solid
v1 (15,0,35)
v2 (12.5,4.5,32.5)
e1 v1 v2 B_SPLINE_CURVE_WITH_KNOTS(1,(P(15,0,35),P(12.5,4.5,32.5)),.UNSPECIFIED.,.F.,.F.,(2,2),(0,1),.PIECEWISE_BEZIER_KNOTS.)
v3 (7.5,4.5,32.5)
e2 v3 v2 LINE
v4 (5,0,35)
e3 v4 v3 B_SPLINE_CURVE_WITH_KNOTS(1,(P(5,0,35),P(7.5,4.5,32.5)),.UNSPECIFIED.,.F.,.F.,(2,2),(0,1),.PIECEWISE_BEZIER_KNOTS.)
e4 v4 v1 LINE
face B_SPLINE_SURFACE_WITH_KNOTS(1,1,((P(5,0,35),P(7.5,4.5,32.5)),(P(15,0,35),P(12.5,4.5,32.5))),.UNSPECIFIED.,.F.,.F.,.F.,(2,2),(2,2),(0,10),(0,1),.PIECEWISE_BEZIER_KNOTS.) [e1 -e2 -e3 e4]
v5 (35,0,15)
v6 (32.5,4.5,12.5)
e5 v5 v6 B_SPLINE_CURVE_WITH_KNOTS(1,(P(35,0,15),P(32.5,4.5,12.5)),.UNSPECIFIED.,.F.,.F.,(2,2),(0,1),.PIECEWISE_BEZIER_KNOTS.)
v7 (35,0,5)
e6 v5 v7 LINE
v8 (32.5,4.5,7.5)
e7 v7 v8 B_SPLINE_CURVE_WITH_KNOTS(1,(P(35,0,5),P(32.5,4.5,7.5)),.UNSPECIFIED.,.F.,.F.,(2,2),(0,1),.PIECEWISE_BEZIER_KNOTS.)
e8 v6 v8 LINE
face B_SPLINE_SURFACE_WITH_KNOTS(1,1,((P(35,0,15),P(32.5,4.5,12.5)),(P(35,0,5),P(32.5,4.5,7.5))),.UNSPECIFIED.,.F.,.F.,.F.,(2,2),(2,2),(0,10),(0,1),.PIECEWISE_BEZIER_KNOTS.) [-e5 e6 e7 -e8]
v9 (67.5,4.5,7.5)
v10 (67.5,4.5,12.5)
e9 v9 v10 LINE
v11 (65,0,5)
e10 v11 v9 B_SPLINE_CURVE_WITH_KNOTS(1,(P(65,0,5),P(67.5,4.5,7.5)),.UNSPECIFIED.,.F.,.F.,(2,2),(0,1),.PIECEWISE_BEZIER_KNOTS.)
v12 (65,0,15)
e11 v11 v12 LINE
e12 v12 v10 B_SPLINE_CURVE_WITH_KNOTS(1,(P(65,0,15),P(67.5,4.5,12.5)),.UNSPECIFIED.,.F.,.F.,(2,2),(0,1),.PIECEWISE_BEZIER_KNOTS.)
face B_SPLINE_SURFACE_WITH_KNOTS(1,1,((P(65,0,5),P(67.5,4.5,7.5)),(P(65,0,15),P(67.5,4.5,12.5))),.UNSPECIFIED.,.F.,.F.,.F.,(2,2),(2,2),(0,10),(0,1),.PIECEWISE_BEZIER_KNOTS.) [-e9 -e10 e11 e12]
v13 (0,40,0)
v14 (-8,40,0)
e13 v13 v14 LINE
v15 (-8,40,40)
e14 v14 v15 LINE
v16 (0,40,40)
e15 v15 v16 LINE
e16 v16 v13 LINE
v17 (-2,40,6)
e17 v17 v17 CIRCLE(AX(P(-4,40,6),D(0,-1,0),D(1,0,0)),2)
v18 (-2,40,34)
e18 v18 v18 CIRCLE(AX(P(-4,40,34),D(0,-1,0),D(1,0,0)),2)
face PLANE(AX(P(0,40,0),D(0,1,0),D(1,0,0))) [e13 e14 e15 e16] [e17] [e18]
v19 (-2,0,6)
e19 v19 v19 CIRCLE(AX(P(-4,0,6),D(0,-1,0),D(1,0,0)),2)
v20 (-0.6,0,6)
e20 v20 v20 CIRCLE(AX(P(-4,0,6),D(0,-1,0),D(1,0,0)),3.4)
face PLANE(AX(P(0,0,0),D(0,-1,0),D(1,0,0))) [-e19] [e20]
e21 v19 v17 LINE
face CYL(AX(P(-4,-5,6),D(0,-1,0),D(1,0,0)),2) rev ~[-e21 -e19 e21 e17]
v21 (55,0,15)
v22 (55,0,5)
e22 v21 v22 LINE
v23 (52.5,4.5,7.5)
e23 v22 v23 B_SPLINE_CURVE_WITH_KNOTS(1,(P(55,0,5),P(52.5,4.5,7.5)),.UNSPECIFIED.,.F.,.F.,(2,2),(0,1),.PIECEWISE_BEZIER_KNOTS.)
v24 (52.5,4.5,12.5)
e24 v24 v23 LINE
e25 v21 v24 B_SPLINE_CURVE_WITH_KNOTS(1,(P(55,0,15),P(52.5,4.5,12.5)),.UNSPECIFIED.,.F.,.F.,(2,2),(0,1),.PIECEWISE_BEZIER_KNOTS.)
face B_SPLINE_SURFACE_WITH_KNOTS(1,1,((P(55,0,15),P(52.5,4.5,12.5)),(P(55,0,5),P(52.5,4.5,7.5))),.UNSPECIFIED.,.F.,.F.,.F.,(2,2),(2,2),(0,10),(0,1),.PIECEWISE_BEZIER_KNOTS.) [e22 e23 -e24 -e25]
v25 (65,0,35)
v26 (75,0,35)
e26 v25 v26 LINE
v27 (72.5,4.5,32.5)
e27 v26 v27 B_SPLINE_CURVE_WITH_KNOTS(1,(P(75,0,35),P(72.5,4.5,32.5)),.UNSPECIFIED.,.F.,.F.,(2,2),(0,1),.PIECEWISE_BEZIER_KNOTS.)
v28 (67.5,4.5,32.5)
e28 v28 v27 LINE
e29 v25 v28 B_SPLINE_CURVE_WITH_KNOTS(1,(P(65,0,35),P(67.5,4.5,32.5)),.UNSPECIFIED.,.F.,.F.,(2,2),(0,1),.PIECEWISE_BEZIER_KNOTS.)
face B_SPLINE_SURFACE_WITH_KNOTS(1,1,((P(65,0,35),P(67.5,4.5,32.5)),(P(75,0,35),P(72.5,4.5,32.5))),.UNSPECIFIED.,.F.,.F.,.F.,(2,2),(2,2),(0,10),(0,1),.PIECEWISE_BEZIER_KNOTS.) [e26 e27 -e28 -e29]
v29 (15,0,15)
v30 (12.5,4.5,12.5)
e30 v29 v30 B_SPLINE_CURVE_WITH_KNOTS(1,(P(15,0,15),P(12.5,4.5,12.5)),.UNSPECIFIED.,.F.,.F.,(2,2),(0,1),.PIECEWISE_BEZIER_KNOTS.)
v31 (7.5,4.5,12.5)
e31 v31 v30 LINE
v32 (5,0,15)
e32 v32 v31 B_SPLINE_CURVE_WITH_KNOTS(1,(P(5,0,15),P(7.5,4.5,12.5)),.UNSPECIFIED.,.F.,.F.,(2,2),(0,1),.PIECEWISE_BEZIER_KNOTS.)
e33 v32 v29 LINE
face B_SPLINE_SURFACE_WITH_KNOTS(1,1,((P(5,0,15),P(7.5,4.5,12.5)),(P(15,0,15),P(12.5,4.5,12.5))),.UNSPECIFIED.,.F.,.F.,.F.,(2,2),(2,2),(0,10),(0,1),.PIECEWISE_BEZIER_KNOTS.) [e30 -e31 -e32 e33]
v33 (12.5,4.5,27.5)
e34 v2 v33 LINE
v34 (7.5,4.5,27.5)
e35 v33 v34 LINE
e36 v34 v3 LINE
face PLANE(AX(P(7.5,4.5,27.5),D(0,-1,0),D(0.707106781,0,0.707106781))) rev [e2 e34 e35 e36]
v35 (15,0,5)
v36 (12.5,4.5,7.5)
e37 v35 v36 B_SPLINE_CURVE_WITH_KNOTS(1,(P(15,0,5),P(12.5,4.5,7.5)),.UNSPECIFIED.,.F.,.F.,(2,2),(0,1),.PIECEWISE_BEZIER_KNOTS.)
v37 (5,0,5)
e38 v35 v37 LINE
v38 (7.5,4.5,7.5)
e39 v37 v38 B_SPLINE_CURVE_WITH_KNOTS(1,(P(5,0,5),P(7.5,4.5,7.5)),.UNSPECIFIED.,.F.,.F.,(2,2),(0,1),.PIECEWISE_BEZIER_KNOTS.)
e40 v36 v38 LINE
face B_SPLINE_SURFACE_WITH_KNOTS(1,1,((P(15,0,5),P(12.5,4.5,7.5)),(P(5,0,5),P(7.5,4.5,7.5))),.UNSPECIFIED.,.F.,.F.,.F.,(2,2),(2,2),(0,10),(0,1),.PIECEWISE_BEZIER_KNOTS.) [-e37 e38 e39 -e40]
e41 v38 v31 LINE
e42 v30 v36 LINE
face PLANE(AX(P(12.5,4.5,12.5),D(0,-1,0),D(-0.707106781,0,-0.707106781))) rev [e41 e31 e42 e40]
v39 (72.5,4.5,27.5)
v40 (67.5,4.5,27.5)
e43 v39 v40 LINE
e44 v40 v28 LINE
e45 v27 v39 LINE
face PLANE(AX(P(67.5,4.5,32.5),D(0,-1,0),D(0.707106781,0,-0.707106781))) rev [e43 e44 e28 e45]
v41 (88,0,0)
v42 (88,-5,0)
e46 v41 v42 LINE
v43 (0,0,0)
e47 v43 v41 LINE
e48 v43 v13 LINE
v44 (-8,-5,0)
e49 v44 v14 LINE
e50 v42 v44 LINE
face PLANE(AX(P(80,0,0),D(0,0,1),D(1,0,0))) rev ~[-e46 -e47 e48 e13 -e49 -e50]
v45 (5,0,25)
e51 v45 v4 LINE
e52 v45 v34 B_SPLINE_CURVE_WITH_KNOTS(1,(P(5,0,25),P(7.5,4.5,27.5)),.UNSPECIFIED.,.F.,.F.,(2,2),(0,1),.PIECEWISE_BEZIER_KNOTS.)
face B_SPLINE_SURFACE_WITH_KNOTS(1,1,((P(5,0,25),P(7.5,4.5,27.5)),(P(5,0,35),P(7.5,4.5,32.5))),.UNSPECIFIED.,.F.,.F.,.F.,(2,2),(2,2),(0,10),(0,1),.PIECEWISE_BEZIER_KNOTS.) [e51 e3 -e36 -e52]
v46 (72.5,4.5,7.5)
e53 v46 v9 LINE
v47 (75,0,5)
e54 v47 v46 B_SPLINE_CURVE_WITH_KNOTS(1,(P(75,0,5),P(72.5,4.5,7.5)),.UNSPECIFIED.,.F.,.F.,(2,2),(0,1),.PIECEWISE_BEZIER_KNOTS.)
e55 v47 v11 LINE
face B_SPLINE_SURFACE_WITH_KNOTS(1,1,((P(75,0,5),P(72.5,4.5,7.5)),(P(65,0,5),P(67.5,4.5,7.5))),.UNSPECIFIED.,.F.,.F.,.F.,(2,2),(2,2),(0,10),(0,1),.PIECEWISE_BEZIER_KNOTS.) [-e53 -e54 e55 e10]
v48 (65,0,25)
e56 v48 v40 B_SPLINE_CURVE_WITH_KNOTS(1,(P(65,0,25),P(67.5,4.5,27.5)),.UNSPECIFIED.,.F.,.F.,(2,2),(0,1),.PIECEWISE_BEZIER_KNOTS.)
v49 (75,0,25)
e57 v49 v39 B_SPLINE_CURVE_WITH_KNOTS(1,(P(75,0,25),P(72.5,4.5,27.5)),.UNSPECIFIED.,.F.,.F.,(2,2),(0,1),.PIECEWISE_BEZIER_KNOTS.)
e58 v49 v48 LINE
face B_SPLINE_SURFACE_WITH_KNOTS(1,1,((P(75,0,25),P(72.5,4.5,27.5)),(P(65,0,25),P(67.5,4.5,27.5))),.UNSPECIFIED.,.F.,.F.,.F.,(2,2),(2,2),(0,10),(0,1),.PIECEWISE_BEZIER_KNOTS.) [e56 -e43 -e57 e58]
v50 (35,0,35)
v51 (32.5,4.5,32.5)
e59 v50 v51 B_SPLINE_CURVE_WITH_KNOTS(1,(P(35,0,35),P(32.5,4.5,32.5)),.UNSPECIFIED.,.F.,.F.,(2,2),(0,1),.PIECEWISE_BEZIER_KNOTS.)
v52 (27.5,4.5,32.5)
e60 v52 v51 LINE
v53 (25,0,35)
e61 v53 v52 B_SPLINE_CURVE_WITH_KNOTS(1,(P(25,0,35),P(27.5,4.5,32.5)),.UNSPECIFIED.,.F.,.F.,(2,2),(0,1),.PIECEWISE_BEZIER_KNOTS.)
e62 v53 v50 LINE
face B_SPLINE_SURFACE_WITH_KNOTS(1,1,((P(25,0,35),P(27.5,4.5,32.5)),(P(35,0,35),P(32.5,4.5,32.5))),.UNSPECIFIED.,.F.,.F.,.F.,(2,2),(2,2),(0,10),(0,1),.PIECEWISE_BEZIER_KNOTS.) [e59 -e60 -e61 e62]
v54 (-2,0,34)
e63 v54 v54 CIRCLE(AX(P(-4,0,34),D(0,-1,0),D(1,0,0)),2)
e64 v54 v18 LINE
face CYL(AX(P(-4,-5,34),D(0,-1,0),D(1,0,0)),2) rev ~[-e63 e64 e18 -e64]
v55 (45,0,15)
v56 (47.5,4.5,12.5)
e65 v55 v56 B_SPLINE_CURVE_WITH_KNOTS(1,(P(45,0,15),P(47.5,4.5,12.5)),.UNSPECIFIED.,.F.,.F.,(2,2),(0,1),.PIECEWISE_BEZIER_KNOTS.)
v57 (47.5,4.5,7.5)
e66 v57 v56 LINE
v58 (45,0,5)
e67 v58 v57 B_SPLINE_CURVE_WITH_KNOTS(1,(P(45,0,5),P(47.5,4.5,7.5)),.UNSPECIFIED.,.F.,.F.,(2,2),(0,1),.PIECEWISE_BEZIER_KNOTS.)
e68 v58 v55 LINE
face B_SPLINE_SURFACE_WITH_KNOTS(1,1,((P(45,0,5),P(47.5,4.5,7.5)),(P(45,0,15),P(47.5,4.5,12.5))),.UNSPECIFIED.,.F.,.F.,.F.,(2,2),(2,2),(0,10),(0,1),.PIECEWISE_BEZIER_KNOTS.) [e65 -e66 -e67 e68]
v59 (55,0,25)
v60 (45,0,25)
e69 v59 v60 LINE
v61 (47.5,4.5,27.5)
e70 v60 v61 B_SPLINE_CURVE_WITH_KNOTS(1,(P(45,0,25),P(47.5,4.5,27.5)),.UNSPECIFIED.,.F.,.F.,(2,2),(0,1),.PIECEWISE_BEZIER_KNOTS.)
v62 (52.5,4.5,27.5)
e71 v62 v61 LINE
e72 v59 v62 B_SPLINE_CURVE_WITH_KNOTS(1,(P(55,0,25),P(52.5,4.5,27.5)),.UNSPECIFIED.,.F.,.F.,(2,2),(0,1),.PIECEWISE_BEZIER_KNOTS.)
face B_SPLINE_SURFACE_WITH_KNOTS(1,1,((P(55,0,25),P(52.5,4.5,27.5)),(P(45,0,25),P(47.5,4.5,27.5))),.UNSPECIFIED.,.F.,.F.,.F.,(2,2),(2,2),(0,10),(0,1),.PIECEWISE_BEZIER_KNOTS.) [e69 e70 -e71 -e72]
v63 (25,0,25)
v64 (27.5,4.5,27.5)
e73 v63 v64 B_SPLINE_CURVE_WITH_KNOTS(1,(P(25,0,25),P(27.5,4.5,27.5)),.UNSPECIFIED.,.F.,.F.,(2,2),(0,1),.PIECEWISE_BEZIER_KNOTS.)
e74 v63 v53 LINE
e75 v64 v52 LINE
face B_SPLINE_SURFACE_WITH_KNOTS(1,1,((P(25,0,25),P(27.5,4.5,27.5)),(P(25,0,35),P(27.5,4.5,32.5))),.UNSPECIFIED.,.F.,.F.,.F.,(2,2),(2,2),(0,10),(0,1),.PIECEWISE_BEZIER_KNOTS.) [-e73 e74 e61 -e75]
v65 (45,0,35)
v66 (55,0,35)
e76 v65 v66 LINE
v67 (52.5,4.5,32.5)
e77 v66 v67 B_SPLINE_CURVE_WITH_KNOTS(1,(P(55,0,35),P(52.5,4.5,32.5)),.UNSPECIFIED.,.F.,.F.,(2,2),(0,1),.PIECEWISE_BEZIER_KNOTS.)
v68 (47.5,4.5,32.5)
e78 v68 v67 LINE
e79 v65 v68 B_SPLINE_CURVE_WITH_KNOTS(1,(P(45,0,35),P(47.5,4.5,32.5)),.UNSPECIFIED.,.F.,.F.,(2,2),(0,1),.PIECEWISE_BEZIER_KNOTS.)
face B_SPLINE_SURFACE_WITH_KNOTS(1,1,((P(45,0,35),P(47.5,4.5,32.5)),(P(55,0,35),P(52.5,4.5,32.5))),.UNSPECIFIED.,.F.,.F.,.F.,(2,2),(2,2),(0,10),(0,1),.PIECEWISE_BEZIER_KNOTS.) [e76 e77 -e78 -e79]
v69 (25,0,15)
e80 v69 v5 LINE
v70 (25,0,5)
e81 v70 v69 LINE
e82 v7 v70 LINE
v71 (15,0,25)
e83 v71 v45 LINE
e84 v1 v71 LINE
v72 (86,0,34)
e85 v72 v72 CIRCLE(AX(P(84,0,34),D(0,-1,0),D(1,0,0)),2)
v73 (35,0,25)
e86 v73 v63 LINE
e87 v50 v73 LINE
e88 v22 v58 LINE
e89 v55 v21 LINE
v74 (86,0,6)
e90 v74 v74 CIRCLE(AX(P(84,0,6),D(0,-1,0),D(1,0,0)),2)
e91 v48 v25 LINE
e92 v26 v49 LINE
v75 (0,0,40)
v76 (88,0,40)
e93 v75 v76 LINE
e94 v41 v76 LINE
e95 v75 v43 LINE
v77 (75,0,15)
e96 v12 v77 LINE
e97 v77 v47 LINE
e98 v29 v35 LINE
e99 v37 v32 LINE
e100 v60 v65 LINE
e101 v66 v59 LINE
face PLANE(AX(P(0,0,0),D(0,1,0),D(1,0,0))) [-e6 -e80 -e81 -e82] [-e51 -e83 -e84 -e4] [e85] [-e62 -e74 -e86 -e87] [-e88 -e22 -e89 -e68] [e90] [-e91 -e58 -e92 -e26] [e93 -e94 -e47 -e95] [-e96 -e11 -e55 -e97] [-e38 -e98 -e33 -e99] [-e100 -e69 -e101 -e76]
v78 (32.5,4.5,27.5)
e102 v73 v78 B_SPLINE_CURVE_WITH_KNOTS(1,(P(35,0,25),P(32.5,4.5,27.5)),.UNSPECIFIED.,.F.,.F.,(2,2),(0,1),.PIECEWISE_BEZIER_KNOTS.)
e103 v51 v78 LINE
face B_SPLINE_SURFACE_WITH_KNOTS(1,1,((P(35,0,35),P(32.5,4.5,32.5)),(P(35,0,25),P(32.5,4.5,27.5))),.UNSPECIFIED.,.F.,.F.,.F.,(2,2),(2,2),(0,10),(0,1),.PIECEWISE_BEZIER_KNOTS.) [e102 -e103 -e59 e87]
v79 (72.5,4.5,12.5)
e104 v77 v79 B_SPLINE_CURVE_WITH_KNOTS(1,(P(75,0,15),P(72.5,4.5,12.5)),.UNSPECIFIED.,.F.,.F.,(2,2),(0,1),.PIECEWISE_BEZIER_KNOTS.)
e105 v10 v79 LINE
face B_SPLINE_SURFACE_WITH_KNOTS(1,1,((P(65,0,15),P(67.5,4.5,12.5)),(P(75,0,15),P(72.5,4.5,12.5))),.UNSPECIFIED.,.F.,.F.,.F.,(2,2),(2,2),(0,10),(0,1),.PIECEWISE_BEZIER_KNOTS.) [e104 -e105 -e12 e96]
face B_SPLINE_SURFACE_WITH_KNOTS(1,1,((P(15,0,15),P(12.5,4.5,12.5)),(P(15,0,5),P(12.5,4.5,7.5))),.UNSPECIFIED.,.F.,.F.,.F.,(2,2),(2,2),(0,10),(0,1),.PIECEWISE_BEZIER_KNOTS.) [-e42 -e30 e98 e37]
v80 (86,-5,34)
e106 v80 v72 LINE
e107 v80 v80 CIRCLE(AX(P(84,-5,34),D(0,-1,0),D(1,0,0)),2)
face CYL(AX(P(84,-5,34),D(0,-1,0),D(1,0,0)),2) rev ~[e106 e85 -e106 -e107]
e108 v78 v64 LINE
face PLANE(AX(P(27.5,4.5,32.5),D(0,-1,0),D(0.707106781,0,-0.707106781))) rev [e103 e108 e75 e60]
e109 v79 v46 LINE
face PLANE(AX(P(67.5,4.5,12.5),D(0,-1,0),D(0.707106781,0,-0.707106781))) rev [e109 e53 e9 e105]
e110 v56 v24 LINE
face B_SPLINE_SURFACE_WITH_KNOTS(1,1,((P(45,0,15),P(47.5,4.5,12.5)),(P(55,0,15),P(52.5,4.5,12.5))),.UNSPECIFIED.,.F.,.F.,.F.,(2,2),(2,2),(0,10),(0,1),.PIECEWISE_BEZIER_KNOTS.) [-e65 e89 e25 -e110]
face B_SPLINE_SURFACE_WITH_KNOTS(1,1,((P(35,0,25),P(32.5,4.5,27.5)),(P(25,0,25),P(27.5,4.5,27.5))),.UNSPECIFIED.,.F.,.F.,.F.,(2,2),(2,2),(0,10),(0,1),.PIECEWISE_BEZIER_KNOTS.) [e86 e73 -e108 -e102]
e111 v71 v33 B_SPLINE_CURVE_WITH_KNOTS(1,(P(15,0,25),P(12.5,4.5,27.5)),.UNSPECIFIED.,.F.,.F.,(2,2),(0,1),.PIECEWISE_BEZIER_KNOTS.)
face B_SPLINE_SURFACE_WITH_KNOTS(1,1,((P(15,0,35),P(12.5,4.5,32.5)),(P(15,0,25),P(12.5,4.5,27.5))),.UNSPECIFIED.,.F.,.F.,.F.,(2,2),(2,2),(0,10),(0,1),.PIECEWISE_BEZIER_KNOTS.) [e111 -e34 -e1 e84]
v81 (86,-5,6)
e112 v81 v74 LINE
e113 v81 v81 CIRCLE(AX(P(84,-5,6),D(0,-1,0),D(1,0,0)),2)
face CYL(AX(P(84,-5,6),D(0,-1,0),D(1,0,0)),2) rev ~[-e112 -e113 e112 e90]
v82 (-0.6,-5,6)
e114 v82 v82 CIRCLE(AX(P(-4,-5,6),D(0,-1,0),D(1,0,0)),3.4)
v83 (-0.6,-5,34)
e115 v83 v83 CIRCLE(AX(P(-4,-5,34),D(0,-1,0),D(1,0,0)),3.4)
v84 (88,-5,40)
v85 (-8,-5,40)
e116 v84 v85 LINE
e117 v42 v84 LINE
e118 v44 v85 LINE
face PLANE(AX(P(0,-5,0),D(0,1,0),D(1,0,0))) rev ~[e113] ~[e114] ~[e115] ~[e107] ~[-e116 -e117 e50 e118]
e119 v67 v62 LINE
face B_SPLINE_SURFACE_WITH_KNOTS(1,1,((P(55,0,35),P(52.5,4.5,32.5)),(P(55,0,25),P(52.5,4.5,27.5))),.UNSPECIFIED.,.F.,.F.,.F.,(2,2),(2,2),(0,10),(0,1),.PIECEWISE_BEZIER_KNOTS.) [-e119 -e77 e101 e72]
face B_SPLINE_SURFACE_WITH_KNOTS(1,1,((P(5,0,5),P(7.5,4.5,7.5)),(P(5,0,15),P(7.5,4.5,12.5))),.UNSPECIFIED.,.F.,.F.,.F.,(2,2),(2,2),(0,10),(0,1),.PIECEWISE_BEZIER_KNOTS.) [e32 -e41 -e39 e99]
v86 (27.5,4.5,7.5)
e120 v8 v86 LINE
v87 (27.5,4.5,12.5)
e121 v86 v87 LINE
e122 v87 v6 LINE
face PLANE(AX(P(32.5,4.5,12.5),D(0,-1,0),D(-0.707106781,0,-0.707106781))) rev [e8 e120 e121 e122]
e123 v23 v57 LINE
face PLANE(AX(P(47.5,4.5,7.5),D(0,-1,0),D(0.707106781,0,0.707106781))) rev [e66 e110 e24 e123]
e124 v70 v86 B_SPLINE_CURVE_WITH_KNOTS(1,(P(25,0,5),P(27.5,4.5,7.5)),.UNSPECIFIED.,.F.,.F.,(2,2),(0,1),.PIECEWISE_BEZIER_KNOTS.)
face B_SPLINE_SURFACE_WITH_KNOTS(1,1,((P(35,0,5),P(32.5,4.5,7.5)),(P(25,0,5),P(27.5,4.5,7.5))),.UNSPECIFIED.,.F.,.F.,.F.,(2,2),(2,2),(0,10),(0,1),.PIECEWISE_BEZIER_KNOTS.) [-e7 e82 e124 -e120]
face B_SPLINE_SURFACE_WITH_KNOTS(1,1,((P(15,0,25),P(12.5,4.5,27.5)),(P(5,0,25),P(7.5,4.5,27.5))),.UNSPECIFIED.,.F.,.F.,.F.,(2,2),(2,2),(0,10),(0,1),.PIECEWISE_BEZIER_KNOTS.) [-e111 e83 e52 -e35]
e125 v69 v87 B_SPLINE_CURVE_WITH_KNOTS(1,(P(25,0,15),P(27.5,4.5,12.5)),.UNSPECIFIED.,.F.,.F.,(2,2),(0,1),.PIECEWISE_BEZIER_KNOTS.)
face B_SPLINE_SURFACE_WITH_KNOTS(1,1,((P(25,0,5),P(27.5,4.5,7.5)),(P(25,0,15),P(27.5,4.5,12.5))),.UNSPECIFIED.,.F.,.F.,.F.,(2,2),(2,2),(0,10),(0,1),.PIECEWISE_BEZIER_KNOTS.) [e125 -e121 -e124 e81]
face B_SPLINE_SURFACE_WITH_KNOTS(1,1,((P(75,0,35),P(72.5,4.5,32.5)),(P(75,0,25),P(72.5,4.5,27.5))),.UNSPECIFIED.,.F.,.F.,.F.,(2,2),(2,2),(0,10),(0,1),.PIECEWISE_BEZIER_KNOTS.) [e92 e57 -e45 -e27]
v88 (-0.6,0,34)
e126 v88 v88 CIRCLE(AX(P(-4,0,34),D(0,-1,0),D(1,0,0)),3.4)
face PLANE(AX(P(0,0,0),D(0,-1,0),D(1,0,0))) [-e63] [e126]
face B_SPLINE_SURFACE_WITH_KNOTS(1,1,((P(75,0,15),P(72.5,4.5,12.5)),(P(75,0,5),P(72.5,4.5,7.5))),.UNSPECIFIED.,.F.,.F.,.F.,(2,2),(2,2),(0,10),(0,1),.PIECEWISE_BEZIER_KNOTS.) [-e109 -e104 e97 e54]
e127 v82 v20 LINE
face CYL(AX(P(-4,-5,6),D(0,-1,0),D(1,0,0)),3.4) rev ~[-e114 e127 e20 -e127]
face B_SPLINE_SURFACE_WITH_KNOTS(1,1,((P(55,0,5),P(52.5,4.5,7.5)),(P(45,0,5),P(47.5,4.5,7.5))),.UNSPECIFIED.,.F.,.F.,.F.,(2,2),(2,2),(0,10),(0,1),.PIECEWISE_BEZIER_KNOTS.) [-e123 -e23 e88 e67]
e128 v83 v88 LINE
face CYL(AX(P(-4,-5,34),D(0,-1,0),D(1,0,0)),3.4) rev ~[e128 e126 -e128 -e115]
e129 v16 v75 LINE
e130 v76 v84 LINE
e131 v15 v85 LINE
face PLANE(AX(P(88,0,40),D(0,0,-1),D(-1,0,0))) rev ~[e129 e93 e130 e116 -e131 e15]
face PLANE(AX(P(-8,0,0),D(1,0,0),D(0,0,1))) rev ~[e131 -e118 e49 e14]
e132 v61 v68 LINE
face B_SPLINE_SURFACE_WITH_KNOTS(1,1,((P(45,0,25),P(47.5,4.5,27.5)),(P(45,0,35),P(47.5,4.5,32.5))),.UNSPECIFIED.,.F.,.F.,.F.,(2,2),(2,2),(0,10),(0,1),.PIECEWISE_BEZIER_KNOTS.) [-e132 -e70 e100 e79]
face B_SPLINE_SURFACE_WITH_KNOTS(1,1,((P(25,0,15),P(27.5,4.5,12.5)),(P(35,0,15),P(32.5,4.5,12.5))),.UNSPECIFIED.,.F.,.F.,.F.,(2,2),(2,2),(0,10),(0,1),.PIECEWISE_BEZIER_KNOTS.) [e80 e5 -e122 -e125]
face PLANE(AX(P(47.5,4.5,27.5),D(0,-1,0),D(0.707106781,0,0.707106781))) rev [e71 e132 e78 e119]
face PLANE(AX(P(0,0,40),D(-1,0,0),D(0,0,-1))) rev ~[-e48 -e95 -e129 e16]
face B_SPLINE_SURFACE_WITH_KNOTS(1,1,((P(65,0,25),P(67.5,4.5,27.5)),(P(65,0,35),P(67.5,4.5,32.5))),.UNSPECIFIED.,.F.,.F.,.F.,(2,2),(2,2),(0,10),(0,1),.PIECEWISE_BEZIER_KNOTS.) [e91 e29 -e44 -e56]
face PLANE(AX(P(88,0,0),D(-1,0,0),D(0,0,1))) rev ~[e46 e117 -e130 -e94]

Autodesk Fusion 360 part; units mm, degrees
sketch "baseplate" plane through (0, 0, 0) normal (0, 1, 0) x (1, 0, 0)
  line L0 (0, 0) -> (80, 0)
  line L1 (80, 0) -> (80, -40)
  line L2 (80, -40) -> (0, -40)
  line L3 (0, -40) -> (0, 0)
  dimension "d1" = 80
  dimension "d2" = 40
sketch "pryamid_base" plane through (0, 0, 0) normal (0, 1, 0) x (1, 0, 0)
  line L0 (5, -35) -> (15, -35)
  line L1 (15, -35) -> (15, -25)
  line L2 (15, -25) -> (5, -25)
  line L3 (5, -25) -> (5, -35)
  line L4 (35, -35) -> (35, -25)
  line L5 (35, -25) -> (25, -25)
  line L6 (25, -35) -> (35, -35)
  line L7 (25, -25) -> (25, -35)
  line L8 (75, -35) -> (75, -25)
  line L9 (45, -35) -> (55, -35)
  line L10 (55, -25) -> (45, -25)
  line L11 (65, -25) -> (65, -35)
  line L12 (65, -35) -> (75, -35)
  line L13 (55, -35) -> (55, -25)
  line L14 (45, -25) -> (45, -35)
  line L15 (75, -25) -> (65, -25)
  line L16 (35, -5) -> (25, -5)
  line L17 (35, -15) -> (35, -5)
  line L18 (15, -5) -> (5, -5)
  line L19 (25, -5) -> (25, -15)
  line L20 (45, -15) -> (55, -15)
  line L21 (55, -15) -> (55, -5)
  line L22 (5, -5) -> (5, -15)
  line L23 (45, -5) -> (45, -15)
  line L24 (75, -15) -> (75, -5)
  line L25 (65, -5) -> (65, -15)
  line L26 (75, -5) -> (65, -5)
  line L27 (55, -5) -> (45, -5)
  line L28 (65, -15) -> (75, -15)
  line L29 (5, -15) -> (15, -15)
  line L30 (15, -15) -> (15, -5)
  line L31 (25, -15) -> (35, -15)
  dimension "d3" = 10
  dimension "d4" = 10
  dimension "d5" = 10
  dimension "d6" = 10
  dimension "d7" = 10
  dimension "d8" = 10
  dimension "d9" = 10
  dimension "d10" = 10
  dimension "d11" = 10
  dimension "d12" = 10
  dimension "d13" = 10
  dimension "d14" = 10
  dimension "d15" = 10
  dimension "d16" = 10
  dimension "d17" = 10
  dimension "d18" = 10
ref_plane "WorkPlane1" through (0, 4.5, 0) normal (0, 1, 0) x (0, 0, 1)
sketch "pryamid_offsetplane" plane through (0, 4.5, 0) normal (0, 1, 0) x (1, 0, 0)
  line L0 (7.5, -32.5) -> (12.5, -32.5)
  line L1 (12.5, -32.5) -> (12.5, -27.5)
  line L2 (12.5, -27.5) -> (7.5, -27.5)
  line L3 (7.5, -27.5) -> (7.5, -32.5)
  line L4 (27.5, -27.5) -> (27.5, -32.5)
  line L5 (32.5, -32.5) -> (32.5, -27.5)
  line L6 (27.5, -32.5) -> (32.5, -32.5)
  line L7 (32.5, -27.5) -> (27.5, -27.5)
  line L8 (7.5, -27.5) -> (7.5, -32.5)
  line L9 (12.5, -32.5) -> (12.5, -27.5)
  line L10 (7.5, -32.5) -> (12.5, -32.5)
  line L11 (12.5, -27.5) -> (7.5, -27.5)
  line L12 (47.5, -27.5) -> (47.5, -32.5)
  line L13 (52.5, -32.5) -> (52.5, -27.5)
  line L14 (47.5, -32.5) -> (52.5, -32.5)
  line L15 (52.5, -27.5) -> (47.5, -27.5)
  line L16 (67.5, -27.5) -> (67.5, -32.5)
  line L17 (72.5, -32.5) -> (72.5, -27.5)
  line L18 (67.5, -32.5) -> (72.5, -32.5)
  line L19 (72.5, -27.5) -> (67.5, -27.5)
  line L20 (72.5, -12.5) -> (72.5, -7.5)
  line L21 (27.5, -7.5) -> (27.5, -12.5)
  line L22 (12.5, -12.5) -> (12.5, -7.5)
  line L23 (72.5, -7.5) -> (67.5, -7.5)
  line L24 (12.5, -7.5) -> (7.5, -7.5)
  line L25 (52.5, -12.5) -> (52.5, -7.5)
  line L26 (7.5, -7.5) -> (7.5, -12.5)
  line L27 (7.5, -12.5) -> (12.5, -12.5)
  line L28 (47.5, -12.5) -> (52.5, -12.5)
  line L29 (67.5, -7.5) -> (67.5, -12.5)
  line L30 (47.5, -7.5) -> (47.5, -12.5)
  line L31 (67.5, -12.5) -> (72.5, -12.5)
  line L32 (32.5, -7.5) -> (27.5, -7.5)
  line L33 (52.5, -7.5) -> (47.5, -7.5)
  line L34 (27.5, -12.5) -> (32.5, -12.5)
  line L35 (12.5, -7.5) -> (7.5, -7.5)
  line L36 (32.5, -12.5) -> (32.5, -7.5)
  line L37 (12.5, -12.5) -> (12.5, -7.5)
  line L38 (7.5, -12.5) -> (12.5, -12.5)
  line L39 (7.5, -7.5) -> (7.5, -12.5)
extrude "Extrude1" add sketch "baseplate" against normal blind 5
loft "Loft1" add profiles "pryamid_base", "pryamid_offsetplane" section 1 contours L0 L1 L2 L3 section 2 contours L0 L1 L2 L3 L8 L9 L10 L11
loft "Loft2" add profiles "pryamid_base", "pryamid_offsetplane" section 1 contours L4 L5 L6 L7 section 2 contours L4 L5 L6 L7
loft "Loft3" add profiles "pryamid_base", "pryamid_offsetplane" section 1 contours L9 L10 L13 L14 section 2 contours L12 L13 L14 L15
loft "Loft4" add profiles "pryamid_base", "pryamid_offsetplane" section 1 contours L8 L11 L12 L15 section 2 contours L16 L17 L18 L19
loft "Loft5" add profiles "pryamid_base", "pryamid_offsetplane" section 1 contours L24 L25 L26 L28 section 2 contours L20 L23 L29 L31
loft "Loft6" add profiles "pryamid_base", "pryamid_offsetplane" section 1 contours L20 L21 L23 L27 section 2 contours L25 L28 L30 L33
loft "Loft7" add profiles "pryamid_base", "pryamid_offsetplane" section 1 contours L16 L17 L19 L31 section 2 contours L21 L32 L34 L36
loft "Loft8" add profiles "pryamid_base", "pryamid_offsetplane" section 1 contours L18 L22 L29 L30 section 2 contours L22 L24 L26 L27 L35 L37 L38 L39
sketch "sidewall" plane through (0, 0, 0) normal (0, 1, 0) x (1, 0, 0)
  line L0 (0, 0) -> (-8, 0)
  line L1 (-8, 0) -> (-8, -40)
  line L2 (-8, -40) -> (0, -40)
  line L3 (0, -40) -> (0, 0)
  dimension "d22" = 8
extrude "Extrude2" add sketch "sidewall" along normal blind 40 and the other way blind 5
sketch "sidemount" plane through (0, 0, 0) normal (0, 1, 0) x (1, 0, 0)
  line L0 (80, 0) -> (88, 0)
  line L1 (88, 0) -> (88, -40)
  line L2 (88, -40) -> (80, -40)
  line L3 (80, -40) -> (80, 0)
extrude "Extrude3" add sketch "sidemount" against normal blind 5
sketch "holes" plane through (0, -5, 0) normal (0, -1, 0) x (1, 0, 0)
  line L0 (88, 40) -> (-8, 40)
  line L1 (-8, 40) -> (-8, 0)
  line L2 (-8, 0) -> (88, 0)
  line L3 (88, 0) -> (88, 40)
  line L4 (-8, 0) -> (-4, 0)
  line L5 (-8, 6) -> (-8, 0)
  line L6 (-4, 40) -> (-8, 40)
  line L7 (-8, 40) -> (-8, 34)
  circle A0 centre (-4, 34) radius 2
  circle A1 centre (-4, 6) radius 2
  circle A2 centre (-4, 34) radius 3.4
  circle A3 centre (-4, 6) radius 3.4
  dimension "d29" = 6
  dimension "d30" = 4
  dimension "d31" = 4
  dimension "d32" = 6.8
  dimension "d33" = 6.8
extrude "Extrude4" cut sketch "holes" against normal blind 51 contours A0 | A1
extrude "Extrude5" cut sketch "holes" against normal blind 5 contours A2 | A3
sketch "Sketch7" plane through (0, -5, 0) normal (0, -1, 0) x (1, 0, 0)
  circle A0 centre (84, 34) radius 2
  circle A1 centre (84, 6) radius 2
  circle A2 centre (84, 34) radius 3.4
  circle A3 centre (84, 6) radius 3.4
  dimension "d42" = 4
  dimension "d43" = 4
  dimension "d44" = 6.8
  dimension "d45" = 6.8
extrude "Extrude6" cut sketch "Sketch7" against normal blind 16 contours A0 | A1
